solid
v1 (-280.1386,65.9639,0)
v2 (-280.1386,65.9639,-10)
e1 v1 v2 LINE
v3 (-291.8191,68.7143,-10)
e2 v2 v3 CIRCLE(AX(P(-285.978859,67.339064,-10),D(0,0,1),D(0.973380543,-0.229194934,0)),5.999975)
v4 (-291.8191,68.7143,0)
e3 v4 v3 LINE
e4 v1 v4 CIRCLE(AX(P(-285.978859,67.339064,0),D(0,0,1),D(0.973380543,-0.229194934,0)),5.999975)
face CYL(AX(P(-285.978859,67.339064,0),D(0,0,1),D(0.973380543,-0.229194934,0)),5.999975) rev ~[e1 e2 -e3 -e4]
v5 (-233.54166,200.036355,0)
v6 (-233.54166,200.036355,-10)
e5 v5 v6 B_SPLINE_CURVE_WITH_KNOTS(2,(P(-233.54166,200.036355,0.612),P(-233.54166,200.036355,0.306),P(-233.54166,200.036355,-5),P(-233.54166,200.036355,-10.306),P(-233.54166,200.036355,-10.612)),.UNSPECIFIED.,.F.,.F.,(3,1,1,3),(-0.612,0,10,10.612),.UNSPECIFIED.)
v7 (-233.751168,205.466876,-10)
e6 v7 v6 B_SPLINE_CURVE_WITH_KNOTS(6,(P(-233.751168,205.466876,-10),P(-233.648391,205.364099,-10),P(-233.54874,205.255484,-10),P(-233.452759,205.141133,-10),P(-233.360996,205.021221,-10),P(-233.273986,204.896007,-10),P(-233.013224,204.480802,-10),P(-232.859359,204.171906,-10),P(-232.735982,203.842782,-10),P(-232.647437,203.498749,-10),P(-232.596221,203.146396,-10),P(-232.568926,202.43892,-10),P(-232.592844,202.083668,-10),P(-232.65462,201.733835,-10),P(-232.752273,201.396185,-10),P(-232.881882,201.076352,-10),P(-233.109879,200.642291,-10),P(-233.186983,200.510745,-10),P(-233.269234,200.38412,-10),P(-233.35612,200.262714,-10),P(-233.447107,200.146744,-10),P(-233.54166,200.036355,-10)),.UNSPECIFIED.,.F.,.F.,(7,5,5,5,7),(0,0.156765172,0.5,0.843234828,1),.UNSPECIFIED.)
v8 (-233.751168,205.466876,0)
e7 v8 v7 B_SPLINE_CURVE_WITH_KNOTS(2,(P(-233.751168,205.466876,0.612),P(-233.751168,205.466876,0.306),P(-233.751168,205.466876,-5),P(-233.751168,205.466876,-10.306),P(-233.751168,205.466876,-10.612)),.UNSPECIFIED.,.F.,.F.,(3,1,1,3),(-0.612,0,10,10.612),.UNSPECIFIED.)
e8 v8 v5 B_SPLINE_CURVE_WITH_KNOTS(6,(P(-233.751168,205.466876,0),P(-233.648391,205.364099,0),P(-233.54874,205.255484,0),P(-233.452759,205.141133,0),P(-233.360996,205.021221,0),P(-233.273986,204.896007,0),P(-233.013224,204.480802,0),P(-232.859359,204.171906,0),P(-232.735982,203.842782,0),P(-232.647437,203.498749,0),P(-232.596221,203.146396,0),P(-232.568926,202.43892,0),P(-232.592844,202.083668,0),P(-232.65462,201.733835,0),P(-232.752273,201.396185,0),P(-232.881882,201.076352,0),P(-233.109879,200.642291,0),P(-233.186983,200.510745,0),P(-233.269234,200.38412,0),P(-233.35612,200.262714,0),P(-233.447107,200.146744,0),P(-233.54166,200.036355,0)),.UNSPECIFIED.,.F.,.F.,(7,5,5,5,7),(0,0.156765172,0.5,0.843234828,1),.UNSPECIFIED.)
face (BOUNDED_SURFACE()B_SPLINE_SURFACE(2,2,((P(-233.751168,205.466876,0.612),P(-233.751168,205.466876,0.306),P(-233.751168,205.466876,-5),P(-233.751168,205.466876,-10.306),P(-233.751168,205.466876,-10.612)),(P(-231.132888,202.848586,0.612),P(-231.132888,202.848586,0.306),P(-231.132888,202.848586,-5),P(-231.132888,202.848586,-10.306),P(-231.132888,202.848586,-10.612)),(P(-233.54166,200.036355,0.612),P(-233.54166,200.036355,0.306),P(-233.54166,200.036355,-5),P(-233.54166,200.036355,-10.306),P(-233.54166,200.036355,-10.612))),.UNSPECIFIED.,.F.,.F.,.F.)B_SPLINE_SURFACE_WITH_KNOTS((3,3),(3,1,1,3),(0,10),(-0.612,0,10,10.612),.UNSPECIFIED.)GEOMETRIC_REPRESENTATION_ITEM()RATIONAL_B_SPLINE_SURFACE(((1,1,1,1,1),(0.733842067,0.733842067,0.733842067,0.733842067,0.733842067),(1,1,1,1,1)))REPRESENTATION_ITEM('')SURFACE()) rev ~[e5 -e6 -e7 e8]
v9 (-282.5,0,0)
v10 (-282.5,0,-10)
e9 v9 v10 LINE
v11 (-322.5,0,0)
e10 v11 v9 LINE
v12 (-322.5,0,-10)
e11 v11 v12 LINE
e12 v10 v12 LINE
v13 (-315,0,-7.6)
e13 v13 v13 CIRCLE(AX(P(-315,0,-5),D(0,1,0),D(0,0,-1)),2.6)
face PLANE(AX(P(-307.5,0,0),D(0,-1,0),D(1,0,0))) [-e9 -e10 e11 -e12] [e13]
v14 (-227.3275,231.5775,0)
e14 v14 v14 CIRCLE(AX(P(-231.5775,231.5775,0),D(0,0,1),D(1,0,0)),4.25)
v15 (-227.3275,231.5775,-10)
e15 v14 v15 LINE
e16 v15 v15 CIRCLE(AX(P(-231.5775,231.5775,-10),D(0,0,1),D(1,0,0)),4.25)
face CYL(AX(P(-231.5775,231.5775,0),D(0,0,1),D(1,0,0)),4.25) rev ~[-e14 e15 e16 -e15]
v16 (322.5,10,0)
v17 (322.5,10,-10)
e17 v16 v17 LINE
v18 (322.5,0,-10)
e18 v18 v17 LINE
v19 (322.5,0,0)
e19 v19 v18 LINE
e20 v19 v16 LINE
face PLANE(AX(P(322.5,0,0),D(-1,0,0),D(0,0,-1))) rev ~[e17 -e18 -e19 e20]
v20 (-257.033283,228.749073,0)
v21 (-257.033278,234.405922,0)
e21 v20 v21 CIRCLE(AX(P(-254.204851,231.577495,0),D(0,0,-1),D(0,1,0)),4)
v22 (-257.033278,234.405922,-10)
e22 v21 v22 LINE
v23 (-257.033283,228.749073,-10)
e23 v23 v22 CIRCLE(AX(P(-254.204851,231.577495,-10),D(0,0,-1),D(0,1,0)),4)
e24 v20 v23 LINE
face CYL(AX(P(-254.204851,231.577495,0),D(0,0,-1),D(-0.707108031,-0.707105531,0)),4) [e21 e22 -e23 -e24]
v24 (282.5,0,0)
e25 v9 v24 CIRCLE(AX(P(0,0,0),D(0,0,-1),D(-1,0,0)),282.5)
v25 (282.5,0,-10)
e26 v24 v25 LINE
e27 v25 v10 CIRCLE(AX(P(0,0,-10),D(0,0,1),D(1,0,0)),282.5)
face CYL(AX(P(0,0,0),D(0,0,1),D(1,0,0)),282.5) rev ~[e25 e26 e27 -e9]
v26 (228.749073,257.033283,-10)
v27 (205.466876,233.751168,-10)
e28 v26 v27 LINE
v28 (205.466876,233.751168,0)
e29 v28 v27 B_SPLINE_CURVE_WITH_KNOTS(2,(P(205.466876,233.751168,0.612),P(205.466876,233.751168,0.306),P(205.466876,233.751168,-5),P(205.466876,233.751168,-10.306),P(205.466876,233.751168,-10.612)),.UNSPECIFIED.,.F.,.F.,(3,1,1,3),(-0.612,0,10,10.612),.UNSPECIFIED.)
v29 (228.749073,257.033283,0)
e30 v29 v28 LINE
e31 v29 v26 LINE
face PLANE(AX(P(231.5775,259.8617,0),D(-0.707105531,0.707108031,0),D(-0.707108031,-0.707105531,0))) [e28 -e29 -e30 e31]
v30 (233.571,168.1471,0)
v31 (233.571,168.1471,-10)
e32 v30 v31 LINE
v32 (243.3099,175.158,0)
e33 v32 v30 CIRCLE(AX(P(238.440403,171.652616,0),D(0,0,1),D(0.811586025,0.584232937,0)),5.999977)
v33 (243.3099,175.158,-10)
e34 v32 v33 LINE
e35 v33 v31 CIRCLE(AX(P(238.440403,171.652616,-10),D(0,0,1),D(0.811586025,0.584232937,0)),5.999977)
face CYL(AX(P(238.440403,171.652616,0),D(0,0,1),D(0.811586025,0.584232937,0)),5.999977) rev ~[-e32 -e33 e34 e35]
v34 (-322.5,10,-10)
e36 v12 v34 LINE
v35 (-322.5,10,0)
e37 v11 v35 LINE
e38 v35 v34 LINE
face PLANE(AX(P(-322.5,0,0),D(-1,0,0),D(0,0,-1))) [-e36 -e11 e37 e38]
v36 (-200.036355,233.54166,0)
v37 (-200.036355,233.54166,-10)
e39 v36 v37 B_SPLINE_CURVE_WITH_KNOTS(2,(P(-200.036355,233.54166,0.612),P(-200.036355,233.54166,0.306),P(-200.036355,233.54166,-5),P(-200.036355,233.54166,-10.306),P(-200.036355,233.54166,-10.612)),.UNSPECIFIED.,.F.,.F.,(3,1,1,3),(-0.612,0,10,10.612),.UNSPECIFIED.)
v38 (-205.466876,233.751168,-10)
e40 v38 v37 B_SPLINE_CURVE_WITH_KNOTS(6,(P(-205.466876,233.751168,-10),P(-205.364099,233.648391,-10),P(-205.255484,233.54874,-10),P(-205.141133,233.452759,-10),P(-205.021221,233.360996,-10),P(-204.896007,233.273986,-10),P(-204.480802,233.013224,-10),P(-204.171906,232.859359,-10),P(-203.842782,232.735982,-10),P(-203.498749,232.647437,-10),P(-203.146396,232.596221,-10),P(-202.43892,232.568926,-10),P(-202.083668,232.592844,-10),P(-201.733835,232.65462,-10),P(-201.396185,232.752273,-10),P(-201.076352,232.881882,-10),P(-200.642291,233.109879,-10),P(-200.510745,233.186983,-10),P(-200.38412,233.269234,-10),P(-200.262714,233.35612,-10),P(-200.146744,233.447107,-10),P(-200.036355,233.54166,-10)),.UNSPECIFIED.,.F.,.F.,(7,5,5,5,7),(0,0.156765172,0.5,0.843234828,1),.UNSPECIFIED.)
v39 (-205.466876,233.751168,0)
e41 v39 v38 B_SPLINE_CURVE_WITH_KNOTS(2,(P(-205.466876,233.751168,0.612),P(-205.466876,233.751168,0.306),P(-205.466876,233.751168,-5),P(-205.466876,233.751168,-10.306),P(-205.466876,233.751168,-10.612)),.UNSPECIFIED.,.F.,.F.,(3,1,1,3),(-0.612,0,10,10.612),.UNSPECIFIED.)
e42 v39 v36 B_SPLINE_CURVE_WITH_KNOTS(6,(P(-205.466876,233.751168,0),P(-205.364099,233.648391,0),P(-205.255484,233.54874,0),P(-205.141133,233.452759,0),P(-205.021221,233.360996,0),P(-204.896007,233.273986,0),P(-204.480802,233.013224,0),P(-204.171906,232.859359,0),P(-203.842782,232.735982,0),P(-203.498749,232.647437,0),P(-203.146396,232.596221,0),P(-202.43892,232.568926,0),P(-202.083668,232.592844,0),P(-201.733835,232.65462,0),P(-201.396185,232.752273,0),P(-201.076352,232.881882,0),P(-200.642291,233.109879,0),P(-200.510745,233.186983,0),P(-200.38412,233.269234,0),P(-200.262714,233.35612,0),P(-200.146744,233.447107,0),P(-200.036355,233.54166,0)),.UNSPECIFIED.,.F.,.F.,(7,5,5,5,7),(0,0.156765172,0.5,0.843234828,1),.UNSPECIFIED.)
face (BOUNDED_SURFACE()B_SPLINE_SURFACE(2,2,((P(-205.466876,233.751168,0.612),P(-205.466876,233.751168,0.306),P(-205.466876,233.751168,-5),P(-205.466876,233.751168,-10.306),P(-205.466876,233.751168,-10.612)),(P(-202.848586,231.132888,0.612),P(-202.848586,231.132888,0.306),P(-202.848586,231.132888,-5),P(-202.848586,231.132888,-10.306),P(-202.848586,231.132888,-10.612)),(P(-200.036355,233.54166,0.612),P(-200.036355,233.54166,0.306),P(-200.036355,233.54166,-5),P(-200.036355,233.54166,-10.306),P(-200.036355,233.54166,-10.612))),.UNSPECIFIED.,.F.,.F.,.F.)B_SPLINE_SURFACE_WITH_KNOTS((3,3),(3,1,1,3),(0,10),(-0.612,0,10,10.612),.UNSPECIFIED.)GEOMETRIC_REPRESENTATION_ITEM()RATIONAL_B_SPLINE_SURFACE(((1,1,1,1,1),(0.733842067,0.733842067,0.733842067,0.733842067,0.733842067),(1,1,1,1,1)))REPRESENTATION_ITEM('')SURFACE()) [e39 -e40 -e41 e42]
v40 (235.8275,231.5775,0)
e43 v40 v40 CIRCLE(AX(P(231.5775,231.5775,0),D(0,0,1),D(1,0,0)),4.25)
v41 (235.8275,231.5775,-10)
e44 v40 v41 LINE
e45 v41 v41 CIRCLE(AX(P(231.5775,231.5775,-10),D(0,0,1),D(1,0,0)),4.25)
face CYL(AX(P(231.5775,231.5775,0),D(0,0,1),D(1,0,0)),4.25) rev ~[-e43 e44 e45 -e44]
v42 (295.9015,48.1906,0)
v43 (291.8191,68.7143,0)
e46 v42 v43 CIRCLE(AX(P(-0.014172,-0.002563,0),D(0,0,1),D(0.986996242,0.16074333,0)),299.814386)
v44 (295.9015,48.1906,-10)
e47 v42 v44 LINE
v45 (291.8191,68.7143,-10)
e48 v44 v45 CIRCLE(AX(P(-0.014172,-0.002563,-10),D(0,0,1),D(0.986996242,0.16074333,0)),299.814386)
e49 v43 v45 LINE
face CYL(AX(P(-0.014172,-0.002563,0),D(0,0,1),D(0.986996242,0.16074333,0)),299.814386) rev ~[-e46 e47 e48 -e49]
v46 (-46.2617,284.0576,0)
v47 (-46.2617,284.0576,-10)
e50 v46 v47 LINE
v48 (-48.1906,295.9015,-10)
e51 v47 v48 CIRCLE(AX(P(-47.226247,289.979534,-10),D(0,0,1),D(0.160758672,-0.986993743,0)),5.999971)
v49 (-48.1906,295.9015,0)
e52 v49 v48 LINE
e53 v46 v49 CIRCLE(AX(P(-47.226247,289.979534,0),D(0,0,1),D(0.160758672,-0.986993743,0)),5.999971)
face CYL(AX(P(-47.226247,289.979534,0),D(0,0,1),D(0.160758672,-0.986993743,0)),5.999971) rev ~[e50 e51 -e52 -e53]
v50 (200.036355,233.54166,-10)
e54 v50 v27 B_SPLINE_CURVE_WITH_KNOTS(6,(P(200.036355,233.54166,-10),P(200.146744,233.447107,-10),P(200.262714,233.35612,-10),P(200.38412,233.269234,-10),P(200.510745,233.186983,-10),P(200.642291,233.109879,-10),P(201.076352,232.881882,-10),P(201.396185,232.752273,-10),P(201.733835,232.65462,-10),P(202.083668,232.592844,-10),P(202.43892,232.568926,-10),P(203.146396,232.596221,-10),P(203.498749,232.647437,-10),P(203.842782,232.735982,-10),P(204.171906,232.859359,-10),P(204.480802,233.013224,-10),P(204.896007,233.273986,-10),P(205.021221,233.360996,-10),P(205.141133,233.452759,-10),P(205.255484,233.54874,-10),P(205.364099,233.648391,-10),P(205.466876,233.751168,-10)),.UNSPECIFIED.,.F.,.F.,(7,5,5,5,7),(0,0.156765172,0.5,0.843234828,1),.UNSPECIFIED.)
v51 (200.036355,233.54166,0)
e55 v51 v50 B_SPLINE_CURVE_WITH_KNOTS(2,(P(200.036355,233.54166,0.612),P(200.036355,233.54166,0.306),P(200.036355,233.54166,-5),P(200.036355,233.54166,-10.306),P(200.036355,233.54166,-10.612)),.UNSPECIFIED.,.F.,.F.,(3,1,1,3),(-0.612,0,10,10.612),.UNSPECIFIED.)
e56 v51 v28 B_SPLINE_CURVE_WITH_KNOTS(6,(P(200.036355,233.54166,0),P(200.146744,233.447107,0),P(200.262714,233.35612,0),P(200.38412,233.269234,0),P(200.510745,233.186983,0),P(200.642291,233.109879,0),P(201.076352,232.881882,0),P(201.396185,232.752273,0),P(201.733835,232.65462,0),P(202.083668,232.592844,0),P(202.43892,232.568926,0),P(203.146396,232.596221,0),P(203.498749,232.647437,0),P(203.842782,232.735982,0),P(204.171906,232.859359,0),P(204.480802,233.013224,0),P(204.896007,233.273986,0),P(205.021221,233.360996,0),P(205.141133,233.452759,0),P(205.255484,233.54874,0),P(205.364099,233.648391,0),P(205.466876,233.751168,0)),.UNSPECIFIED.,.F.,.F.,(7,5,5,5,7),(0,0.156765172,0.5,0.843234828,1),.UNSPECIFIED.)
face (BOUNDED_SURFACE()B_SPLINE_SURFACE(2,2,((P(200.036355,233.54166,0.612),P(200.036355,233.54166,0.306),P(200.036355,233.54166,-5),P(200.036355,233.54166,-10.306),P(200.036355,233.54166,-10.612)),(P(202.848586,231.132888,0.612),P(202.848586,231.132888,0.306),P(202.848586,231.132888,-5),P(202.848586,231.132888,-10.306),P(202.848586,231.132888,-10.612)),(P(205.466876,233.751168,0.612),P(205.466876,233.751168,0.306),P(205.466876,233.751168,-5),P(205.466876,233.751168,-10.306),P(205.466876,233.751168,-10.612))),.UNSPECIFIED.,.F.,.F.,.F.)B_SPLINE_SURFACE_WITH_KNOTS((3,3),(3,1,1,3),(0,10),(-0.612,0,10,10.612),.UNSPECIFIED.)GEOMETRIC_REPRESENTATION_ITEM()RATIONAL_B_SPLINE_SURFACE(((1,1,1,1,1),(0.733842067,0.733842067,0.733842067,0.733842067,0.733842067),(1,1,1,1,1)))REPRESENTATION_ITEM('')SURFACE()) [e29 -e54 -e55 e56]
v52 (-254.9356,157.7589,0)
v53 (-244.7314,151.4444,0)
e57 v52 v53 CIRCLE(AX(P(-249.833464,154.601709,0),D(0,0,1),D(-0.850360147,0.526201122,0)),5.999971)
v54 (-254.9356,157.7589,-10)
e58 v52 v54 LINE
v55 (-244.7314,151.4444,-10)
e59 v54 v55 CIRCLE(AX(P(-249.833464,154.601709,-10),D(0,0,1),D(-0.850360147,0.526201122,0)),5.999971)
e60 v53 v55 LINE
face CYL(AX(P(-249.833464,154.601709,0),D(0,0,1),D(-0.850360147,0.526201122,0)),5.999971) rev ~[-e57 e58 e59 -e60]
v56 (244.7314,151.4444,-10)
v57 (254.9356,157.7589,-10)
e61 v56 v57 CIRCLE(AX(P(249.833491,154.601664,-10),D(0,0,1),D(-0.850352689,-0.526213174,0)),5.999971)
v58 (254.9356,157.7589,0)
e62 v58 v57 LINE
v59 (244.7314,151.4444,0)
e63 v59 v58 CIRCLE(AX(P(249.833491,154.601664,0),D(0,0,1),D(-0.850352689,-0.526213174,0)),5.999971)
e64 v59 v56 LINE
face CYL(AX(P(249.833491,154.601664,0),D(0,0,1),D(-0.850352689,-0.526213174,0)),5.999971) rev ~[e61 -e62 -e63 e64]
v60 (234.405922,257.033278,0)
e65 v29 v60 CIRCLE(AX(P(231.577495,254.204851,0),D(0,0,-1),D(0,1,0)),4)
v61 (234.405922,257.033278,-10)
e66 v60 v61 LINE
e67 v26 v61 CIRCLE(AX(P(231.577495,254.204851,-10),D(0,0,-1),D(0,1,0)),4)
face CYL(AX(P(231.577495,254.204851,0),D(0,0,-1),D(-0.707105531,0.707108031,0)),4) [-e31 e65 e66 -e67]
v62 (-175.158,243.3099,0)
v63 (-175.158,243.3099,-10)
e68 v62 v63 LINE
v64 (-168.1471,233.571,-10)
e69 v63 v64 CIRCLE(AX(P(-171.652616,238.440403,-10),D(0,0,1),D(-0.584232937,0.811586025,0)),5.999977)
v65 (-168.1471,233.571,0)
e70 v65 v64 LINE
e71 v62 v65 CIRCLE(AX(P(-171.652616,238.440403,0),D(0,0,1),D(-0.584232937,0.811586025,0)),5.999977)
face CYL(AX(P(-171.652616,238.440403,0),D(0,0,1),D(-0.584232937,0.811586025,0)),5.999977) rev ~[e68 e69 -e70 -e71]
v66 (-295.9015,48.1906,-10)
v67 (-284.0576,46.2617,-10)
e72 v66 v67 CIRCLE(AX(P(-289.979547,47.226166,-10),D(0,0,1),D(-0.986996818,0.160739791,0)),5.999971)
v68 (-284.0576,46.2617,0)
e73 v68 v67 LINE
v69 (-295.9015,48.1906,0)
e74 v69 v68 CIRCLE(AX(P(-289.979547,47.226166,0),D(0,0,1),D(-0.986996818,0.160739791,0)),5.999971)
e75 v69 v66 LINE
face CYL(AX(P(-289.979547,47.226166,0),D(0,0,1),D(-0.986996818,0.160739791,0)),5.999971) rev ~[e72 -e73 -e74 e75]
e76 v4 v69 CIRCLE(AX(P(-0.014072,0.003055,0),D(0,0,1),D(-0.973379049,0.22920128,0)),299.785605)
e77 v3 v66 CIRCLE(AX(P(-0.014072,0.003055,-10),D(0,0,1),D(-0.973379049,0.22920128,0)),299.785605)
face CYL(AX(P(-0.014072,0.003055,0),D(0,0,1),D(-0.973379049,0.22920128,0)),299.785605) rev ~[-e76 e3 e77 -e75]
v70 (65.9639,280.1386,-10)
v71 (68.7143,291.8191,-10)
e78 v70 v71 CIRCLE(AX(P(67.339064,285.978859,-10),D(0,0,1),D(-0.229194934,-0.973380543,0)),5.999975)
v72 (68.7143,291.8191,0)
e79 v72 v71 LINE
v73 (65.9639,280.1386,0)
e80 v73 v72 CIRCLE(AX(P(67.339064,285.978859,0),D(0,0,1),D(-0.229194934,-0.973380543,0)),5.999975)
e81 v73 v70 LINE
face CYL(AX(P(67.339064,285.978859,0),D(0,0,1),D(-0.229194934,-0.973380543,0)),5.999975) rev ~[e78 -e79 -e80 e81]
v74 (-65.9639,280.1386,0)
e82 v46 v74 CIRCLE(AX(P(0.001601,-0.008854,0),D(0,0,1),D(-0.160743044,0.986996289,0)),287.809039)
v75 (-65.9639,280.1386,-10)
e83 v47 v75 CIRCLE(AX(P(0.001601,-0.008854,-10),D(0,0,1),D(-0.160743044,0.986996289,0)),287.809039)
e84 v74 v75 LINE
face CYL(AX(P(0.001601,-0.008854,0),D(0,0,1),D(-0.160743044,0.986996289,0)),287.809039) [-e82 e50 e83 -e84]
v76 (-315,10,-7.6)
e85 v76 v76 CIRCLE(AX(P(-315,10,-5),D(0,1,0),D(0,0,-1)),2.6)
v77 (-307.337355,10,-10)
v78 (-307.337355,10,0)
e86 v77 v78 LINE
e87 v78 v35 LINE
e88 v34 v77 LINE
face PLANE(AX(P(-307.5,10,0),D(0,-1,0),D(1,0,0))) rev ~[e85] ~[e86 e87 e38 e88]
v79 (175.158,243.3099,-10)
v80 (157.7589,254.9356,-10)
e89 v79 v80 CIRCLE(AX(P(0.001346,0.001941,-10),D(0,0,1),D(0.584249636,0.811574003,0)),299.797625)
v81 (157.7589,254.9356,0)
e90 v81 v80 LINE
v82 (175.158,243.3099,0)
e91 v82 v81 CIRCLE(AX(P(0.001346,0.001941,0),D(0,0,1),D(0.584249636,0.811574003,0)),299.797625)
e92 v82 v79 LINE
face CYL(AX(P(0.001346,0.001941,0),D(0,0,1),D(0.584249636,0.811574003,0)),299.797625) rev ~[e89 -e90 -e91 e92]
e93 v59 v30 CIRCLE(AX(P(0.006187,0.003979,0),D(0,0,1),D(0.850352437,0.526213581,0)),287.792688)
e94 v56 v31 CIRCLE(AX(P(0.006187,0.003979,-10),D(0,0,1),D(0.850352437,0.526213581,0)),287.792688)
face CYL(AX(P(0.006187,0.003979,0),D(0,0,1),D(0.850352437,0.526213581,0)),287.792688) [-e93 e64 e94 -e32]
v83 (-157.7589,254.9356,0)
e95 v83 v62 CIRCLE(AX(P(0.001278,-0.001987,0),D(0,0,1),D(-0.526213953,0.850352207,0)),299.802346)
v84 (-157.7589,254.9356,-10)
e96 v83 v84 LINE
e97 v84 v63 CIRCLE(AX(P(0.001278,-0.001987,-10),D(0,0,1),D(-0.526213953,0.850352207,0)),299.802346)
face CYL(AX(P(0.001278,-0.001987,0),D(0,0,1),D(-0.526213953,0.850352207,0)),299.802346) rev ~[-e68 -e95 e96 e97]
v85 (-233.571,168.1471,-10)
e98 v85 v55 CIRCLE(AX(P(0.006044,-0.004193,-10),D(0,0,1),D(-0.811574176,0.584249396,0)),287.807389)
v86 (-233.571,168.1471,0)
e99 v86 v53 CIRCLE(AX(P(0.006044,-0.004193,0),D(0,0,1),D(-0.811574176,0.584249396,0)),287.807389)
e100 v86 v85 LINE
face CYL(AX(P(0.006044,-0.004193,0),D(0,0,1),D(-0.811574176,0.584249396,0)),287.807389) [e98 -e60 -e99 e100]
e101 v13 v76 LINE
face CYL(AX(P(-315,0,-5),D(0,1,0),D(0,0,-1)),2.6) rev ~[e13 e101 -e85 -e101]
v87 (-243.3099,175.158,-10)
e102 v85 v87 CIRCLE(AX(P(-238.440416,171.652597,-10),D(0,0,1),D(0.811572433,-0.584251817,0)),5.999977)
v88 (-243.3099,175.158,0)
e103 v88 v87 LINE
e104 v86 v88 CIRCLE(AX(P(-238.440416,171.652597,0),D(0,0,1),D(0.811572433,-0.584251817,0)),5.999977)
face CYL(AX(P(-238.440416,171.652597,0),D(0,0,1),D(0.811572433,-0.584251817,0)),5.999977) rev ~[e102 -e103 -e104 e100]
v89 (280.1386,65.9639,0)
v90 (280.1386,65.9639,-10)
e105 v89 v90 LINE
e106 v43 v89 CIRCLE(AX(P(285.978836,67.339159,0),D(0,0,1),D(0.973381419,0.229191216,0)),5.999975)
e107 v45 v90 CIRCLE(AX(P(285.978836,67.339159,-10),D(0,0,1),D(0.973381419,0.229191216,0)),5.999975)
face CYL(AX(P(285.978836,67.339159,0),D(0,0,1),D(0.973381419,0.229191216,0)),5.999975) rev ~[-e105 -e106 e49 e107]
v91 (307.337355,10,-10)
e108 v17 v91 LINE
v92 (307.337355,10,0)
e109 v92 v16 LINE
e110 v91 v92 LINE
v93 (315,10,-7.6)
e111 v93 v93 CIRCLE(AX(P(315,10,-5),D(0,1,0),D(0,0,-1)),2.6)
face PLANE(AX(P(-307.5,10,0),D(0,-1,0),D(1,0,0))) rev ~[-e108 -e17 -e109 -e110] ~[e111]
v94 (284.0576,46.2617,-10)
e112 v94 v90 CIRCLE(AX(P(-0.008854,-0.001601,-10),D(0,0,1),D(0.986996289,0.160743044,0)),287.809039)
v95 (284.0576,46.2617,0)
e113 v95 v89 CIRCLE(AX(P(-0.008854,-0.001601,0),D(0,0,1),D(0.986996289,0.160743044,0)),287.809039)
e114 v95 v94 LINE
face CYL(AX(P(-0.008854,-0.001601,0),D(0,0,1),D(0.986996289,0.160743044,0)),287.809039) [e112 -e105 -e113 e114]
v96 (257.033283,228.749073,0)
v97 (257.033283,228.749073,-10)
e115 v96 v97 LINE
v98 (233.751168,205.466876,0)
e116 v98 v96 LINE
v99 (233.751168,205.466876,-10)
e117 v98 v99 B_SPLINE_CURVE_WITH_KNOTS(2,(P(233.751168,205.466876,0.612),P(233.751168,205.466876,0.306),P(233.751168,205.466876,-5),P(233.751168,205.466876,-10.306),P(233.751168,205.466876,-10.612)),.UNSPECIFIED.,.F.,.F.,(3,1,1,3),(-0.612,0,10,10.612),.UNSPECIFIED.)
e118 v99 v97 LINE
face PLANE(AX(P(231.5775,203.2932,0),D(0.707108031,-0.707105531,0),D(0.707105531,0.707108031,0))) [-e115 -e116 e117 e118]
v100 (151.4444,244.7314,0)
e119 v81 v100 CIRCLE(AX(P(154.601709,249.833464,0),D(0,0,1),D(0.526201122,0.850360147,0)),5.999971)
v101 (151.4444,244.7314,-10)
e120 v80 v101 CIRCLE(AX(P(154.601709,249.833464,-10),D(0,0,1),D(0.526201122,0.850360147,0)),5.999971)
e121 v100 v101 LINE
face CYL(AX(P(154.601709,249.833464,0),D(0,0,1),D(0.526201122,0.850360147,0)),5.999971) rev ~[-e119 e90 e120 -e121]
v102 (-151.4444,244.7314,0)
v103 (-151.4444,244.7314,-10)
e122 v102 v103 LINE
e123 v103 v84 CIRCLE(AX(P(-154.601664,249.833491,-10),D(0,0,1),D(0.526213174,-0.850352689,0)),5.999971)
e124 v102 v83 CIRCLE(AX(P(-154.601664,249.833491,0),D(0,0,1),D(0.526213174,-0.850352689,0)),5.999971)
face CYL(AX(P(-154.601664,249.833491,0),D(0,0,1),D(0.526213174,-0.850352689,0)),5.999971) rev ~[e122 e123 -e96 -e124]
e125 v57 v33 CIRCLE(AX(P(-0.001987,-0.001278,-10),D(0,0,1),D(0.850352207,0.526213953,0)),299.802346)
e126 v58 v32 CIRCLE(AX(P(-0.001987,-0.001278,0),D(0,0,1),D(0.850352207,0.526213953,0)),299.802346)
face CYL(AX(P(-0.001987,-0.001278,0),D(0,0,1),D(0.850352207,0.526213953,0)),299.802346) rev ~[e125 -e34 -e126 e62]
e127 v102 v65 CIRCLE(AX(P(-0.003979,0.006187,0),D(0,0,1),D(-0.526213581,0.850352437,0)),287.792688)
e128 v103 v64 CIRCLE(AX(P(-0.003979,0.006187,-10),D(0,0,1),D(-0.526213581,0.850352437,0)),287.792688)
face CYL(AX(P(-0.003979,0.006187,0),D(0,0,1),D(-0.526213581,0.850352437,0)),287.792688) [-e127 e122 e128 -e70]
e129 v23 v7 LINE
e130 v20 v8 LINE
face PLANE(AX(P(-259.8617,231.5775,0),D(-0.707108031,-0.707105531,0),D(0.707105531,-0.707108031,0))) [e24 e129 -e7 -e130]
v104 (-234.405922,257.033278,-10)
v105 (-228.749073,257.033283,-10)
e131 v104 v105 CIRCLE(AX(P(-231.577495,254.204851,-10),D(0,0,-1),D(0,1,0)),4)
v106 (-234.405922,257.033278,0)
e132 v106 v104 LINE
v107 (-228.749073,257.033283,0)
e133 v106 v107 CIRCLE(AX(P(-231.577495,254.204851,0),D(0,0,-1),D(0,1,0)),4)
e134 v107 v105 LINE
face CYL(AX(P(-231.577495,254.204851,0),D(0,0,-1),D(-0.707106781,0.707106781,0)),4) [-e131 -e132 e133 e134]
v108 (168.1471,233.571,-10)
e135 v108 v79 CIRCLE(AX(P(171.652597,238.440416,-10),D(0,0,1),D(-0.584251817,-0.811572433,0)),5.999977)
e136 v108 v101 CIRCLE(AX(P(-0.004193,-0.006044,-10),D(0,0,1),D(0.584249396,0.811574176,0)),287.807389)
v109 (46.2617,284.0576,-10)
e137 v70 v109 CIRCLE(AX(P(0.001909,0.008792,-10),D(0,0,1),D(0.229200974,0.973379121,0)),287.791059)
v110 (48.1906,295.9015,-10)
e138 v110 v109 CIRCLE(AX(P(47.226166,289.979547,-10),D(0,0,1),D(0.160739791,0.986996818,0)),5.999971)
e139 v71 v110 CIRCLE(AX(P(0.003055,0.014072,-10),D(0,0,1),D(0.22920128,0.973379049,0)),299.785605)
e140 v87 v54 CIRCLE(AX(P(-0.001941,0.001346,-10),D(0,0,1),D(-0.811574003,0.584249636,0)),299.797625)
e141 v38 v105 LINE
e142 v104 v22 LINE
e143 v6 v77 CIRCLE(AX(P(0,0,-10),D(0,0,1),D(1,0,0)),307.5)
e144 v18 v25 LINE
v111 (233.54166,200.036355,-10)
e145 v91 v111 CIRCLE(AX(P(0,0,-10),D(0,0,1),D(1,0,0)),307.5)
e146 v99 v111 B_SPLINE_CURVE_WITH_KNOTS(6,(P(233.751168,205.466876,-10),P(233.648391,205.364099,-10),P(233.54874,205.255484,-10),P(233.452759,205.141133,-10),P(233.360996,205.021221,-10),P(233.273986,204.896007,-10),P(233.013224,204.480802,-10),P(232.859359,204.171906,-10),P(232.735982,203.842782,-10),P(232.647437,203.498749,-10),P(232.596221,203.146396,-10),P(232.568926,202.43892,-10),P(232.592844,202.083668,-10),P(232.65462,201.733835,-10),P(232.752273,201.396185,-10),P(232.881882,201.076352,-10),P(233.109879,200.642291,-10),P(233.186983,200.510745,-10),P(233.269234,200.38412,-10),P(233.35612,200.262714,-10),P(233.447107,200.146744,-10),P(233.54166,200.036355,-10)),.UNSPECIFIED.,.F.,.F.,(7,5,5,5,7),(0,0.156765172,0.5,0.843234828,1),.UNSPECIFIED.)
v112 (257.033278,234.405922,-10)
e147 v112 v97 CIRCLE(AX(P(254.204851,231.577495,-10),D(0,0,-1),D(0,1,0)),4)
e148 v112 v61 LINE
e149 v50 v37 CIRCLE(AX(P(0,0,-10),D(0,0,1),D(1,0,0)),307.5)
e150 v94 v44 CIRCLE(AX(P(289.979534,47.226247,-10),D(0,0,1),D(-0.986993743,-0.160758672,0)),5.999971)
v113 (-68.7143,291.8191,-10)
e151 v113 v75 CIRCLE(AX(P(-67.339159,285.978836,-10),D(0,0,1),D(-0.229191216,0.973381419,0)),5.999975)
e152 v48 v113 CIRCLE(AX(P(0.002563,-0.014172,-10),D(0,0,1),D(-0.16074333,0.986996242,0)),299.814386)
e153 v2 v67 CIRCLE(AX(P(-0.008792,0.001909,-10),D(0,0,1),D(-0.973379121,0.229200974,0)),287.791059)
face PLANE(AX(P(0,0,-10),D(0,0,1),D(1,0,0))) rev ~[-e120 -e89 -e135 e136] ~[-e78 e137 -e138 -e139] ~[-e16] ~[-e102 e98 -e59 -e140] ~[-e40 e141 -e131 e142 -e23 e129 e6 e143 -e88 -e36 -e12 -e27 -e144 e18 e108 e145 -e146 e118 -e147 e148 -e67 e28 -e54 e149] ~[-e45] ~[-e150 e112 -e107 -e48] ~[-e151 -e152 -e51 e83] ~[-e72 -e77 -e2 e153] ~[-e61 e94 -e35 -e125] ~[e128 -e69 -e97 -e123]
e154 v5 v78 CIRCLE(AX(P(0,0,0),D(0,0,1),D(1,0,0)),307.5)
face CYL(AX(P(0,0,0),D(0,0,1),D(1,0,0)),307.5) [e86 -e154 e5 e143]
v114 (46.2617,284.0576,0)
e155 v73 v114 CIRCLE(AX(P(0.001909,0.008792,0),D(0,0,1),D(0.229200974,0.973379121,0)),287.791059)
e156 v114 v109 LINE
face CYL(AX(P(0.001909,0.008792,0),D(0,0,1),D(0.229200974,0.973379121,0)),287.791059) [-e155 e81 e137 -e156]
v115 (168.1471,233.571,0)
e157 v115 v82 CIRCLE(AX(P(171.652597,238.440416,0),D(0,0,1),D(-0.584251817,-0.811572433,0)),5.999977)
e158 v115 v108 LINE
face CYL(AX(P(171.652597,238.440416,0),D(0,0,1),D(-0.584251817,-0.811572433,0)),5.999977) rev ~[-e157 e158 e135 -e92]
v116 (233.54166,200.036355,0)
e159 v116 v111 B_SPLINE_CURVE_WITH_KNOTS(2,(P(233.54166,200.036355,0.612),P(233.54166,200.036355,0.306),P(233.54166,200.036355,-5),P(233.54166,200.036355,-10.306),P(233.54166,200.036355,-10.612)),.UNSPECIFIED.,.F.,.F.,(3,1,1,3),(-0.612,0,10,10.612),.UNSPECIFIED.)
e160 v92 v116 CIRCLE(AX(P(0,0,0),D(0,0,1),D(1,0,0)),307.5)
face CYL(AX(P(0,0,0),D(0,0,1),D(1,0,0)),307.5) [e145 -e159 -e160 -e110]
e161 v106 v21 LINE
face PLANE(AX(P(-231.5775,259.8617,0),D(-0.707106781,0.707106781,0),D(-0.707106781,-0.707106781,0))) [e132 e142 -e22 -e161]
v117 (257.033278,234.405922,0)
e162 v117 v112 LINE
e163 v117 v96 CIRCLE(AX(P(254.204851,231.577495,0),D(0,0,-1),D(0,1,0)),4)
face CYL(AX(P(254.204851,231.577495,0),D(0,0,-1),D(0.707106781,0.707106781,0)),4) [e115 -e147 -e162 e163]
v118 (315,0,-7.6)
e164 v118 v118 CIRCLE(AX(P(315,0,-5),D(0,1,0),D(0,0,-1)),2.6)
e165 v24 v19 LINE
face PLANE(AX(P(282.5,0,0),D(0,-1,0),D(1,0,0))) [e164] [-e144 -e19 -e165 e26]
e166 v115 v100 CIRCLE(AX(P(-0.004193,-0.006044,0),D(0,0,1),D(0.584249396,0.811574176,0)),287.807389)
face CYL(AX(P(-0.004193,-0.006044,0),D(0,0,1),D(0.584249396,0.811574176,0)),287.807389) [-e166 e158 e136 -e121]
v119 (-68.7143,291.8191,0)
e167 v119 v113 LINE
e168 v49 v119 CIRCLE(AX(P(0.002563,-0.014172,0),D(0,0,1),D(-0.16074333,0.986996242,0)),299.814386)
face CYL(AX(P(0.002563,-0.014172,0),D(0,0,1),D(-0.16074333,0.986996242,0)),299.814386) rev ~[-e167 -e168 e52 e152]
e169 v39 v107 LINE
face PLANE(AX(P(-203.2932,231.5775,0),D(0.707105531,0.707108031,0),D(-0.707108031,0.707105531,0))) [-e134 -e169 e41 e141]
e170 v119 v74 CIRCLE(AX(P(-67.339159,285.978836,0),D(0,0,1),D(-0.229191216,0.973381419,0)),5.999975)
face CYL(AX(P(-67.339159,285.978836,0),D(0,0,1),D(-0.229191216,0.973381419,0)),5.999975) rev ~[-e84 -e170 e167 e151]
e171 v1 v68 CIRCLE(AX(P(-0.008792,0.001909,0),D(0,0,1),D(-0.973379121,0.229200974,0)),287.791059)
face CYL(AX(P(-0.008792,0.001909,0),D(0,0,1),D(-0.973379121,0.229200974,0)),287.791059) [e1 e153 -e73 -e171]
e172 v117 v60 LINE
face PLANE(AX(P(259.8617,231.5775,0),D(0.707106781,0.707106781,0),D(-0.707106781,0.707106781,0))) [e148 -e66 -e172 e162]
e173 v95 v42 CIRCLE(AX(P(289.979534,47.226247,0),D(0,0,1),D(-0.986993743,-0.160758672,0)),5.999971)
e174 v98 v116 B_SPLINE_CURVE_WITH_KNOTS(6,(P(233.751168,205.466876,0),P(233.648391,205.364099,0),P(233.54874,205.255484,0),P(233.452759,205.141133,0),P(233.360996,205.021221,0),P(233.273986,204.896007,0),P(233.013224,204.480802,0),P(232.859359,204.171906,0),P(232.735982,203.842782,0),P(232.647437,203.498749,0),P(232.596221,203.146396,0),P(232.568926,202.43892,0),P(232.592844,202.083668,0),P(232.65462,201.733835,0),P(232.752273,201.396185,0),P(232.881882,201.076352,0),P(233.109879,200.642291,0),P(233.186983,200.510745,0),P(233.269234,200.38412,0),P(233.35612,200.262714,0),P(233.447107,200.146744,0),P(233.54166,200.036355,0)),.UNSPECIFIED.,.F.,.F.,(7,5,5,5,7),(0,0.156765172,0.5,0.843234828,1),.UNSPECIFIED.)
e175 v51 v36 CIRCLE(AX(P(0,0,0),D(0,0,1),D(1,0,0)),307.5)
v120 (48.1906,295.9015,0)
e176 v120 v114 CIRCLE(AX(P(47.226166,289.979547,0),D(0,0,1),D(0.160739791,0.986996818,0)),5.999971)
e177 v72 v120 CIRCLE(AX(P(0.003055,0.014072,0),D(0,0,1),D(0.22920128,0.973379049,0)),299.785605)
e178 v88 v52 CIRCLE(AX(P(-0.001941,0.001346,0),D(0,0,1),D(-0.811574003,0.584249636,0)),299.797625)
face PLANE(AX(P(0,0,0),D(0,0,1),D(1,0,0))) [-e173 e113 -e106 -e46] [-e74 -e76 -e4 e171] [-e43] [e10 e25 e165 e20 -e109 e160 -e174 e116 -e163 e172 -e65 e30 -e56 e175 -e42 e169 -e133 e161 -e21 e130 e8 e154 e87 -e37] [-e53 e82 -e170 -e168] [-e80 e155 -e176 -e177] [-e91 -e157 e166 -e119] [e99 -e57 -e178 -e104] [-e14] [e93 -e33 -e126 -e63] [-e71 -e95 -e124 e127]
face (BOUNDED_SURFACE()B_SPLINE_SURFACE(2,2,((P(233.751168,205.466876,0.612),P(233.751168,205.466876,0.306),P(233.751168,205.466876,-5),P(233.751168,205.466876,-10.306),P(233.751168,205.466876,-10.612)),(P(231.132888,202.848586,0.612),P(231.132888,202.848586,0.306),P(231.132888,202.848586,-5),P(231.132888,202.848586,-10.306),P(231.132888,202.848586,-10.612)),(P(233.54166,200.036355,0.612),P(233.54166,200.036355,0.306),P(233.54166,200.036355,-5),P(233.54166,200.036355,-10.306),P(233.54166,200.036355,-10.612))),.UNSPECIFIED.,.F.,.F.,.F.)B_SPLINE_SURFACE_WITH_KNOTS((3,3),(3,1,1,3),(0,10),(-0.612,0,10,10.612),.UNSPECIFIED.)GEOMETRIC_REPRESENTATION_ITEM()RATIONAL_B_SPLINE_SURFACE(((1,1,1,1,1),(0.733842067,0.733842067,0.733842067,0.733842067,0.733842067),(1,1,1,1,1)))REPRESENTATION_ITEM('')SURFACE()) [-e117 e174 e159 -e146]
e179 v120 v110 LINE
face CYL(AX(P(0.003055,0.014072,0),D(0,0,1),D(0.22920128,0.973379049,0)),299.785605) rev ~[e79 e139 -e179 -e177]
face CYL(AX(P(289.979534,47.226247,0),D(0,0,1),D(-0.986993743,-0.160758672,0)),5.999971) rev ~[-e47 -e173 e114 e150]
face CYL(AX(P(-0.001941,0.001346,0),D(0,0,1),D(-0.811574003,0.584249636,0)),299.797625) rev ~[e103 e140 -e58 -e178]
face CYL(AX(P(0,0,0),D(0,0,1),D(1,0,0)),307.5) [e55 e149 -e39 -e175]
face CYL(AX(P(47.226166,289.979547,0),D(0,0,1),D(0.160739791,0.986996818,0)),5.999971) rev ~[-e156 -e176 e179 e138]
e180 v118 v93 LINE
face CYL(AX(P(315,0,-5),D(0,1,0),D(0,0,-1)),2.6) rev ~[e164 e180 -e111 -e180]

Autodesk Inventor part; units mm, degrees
ref_plane "YZ Plane" through (0, 0, 0) normal (1, 0, 0) x (0, 1, 0)
ref_plane "XZ Plane" through (0, 0, 0) normal (0, 1, 0) x (-1, 0, 0)
ref_plane "XY Plane" through (0, 0, 0) normal (0, 0, 1) x (1, 0, 0)
sketch "Sketch7" plane through (0, 0, 0) normal (0, 0, 1) x (1, 0, 0)
  circle A0 centre (-231.5775, 231.5775) radius 4.25
  line L0 (-231.5775, 203.2932) -> (-203.2932, 231.5775)
  line L1 (-203.2932, 231.5775) -> (-231.5775, 259.8617)
  line L2 (-231.5775, 259.8617) -> (-259.8617, 231.5775)
  line L3 (-259.8617, 231.5775) -> (-231.5775, 203.2932)
  line L4 (-231.5775, 203.2932) -> (-231.5775, 259.8617) construction
  line L5 (-203.2932, 231.5775) -> (-259.8617, 231.5775) construction
  line L6 (-231.5775, 203.2932) -> (-191.5775, 203.2932) construction
  arc A1 (289.9795, 47.2262) -> (285.9788, 67.3391) centre (0, 0) ccw construction
  arc A2 (295.9015, 48.1906) -> (291.8191, 68.7143) centre (0, 0) ccw
  arc A3 (284.0576, 46.2617) -> (280.1386, 65.9639) centre (0, 0) ccw
  arc A4 (284.0576, 46.2617) -> (295.9015, 48.1906) centre (289.9795, 47.2262) ccw
  arc A5 (291.8191, 68.7143) -> (280.1386, 65.9639) centre (285.9788, 67.3391) ccw
  line L7 (0, 0) -> (289.9795, 47.2262) construction
  line L8 (0, 0) -> (293.8, 0) construction
  line L9 (0, 0) -> (285.9788, 67.3391) construction
  circle A6 centre (0, 0) radius 307.5
  circle A7 centre (0, 0) radius 282.5
  line L10 (-203.2932, 231.5775) -> (-185.1143, 213.3986)
  line L11 (-231.5775, 203.2932) -> (-213.3986, 185.1143)
  line L12 (-307.5, 0) -> (0, 0)
  line L13 (0, 0) -> (307.5, 0)
  line L14 (-231.5775, -203.2932) -> (-259.8617, -231.5775)
  line L15 (-259.8617, -231.5775) -> (-231.5775, -259.8617)
  circle A8 centre (-231.5775, -231.5775) radius 4.25
  line L16 (-231.5775, -259.8617) -> (-203.2932, -231.5775)
  line L17 (-203.2932, -231.5775) -> (-231.5775, -203.2932)
  line L18 (-203.2932, -231.5775) -> (-185.1143, -213.3986)
  line L19 (-231.5775, -203.2932) -> (-213.3986, -185.1143)
  line L20 (203.2932, -231.5775) -> (231.5775, -259.8617)
  line L21 (231.5775, -259.8617) -> (259.8617, -231.5775)
  circle A9 centre (231.5775, -231.5775) radius 4.25
  line L22 (259.8617, -231.5775) -> (231.5775, -203.2932)
  line L23 (231.5775, -203.2932) -> (203.2932, -231.5775)
  line L24 (231.5775, -203.2932) -> (213.3986, -185.1143)
  line L25 (203.2932, -231.5775) -> (185.1143, -213.3986)
  line L26 (231.5775, 203.2932) -> (259.8617, 231.5775)
  line L27 (259.8617, 231.5775) -> (231.5775, 259.8617)
  circle A10 centre (231.5775, 231.5775) radius 4.25
  line L28 (231.5775, 259.8617) -> (203.2932, 231.5775)
  line L29 (203.2932, 231.5775) -> (231.5775, 203.2932)
  line L30 (203.2932, 231.5775) -> (185.1143, 213.3986)
  line L31 (231.5775, 203.2932) -> (213.3986, 185.1143)
  arc A11 (254.9356, 157.7589) -> (243.3099, 175.158) centre (0, 0) ccw
  arc A12 (243.3099, 175.158) -> (233.571, 168.1471) centre (238.4404, 171.6526) ccw
  arc A13 (244.7314, 151.4444) -> (233.571, 168.1471) centre (0, 0) ccw
  arc A14 (244.7314, 151.4444) -> (254.9356, 157.7589) centre (249.8335, 154.6017) ccw
  arc A15 (175.158, 243.3099) -> (157.7589, 254.9356) centre (0, 0) ccw
  arc A16 (157.7589, 254.9356) -> (151.4444, 244.7314) centre (154.6017, 249.8335) ccw
  arc A17 (168.1471, 233.571) -> (151.4444, 244.7314) centre (0, 0) ccw
  arc A18 (168.1471, 233.571) -> (175.158, 243.3099) centre (171.6526, 238.4404) ccw
  arc A19 (68.7143, 291.8191) -> (48.1906, 295.9015) centre (0, 0) ccw
  arc A20 (48.1906, 295.9015) -> (46.2617, 284.0576) centre (47.2262, 289.9795) ccw
  arc A21 (65.9639, 280.1386) -> (46.2617, 284.0576) centre (0, 0) ccw
  arc A22 (65.9639, 280.1386) -> (68.7143, 291.8191) centre (67.3391, 285.9788) ccw
  arc A23 (-48.1906, 295.9015) -> (-68.7143, 291.8191) centre (0, 0) ccw
  arc A24 (-68.7143, 291.8191) -> (-65.9639, 280.1386) centre (-67.3391, 285.9788) ccw
  arc A25 (-46.2617, 284.0576) -> (-65.9639, 280.1386) centre (0, 0) ccw
  arc A26 (-46.2617, 284.0576) -> (-48.1906, 295.9015) centre (-47.2262, 289.9795) ccw
  arc A27 (-157.7589, 254.9356) -> (-175.158, 243.3099) centre (0, 0) ccw
  arc A28 (-175.158, 243.3099) -> (-168.1471, 233.571) centre (-171.6526, 238.4404) ccw
  arc A29 (-151.4444, 244.7314) -> (-168.1471, 233.571) centre (0, 0) ccw
  arc A30 (-151.4444, 244.7314) -> (-157.7589, 254.9356) centre (-154.6017, 249.8335) ccw
  arc A31 (-243.3099, 175.158) -> (-254.9356, 157.7589) centre (0, 0) ccw
  arc A32 (-254.9356, 157.7589) -> (-244.7314, 151.4444) centre (-249.8335, 154.6017) ccw
  arc A33 (-233.571, 168.1471) -> (-244.7314, 151.4444) centre (0, 0) ccw
  arc A34 (-233.571, 168.1471) -> (-243.3099, 175.158) centre (-238.4404, 171.6526) ccw
  arc A35 (-291.8191, 68.7143) -> (-295.9015, 48.1906) centre (0, 0) ccw
  arc A36 (-295.9015, 48.1906) -> (-284.0576, 46.2617) centre (-289.9795, 47.2262) ccw
  arc A37 (-280.1386, 65.9639) -> (-284.0576, 46.2617) centre (0, 0) ccw
  arc A38 (-280.1386, 65.9639) -> (-291.8191, 68.7143) centre (-285.9788, 67.3391) ccw
  arc A39 (-295.9015, -48.1906) -> (-291.8191, -68.7143) centre (0, 0) ccw
  arc A40 (-291.8191, -68.7143) -> (-280.1386, -65.9639) centre (-285.9788, -67.3391) ccw
  arc A41 (-284.0576, -46.2617) -> (-280.1386, -65.9639) centre (0, 0) ccw
  arc A42 (-284.0576, -46.2617) -> (-295.9015, -48.1906) centre (-289.9795, -47.2262) ccw
  arc A43 (-254.9356, -157.7589) -> (-243.3099, -175.158) centre (0, 0) ccw
  arc A44 (-243.3099, -175.158) -> (-233.571, -168.1471) centre (-238.4404, -171.6526) ccw
  arc A45 (-244.7314, -151.4444) -> (-233.571, -168.1471) centre (0, 0) ccw
  arc A46 (-244.7314, -151.4444) -> (-254.9356, -157.7589) centre (-249.8335, -154.6017) ccw
  arc A47 (-175.158, -243.3099) -> (-157.7589, -254.9356) centre (0, 0) ccw
  arc A48 (-157.7589, -254.9356) -> (-151.4444, -244.7314) centre (-154.6017, -249.8335) ccw
  arc A49 (-168.1471, -233.571) -> (-151.4444, -244.7314) centre (0, 0) ccw
  arc A50 (-168.1471, -233.571) -> (-175.158, -243.3099) centre (-171.6526, -238.4404) ccw
  arc A51 (-68.7143, -291.8191) -> (-48.1906, -295.9015) centre (0, 0) ccw
  arc A52 (-48.1906, -295.9015) -> (-46.2617, -284.0576) centre (-47.2262, -289.9795) ccw
  arc A53 (-65.9639, -280.1386) -> (-46.2617, -284.0576) centre (0, 0) ccw
  arc A54 (-65.9639, -280.1386) -> (-68.7143, -291.8191) centre (-67.3391, -285.9788) ccw
  arc A55 (48.1906, -295.9015) -> (68.7143, -291.8191) centre (0, 0) ccw
  arc A56 (68.7143, -291.8191) -> (65.9639, -280.1386) centre (67.3391, -285.9788) ccw
  arc A57 (46.2617, -284.0576) -> (65.9639, -280.1386) centre (0, 0) ccw
  arc A58 (46.2617, -284.0576) -> (48.1906, -295.9015) centre (47.2262, -289.9795) ccw
  arc A59 (157.7589, -254.9356) -> (175.158, -243.3099) centre (0, 0) ccw
  arc A60 (175.158, -243.3099) -> (168.1471, -233.571) centre (171.6526, -238.4404) ccw
  arc A61 (151.4444, -244.7314) -> (168.1471, -233.571) centre (0, 0) ccw
  arc A62 (151.4444, -244.7314) -> (157.7589, -254.9356) centre (154.6017, -249.8335) ccw
  arc A63 (243.3099, -175.158) -> (254.9356, -157.7589) centre (0, 0) ccw
  arc A64 (254.9356, -157.7589) -> (244.7314, -151.4444) centre (249.8335, -154.6017) ccw
  arc A65 (233.571, -168.1471) -> (244.7314, -151.4444) centre (0, 0) ccw
  arc A66 (233.571, -168.1471) -> (243.3099, -175.158) centre (238.4404, -171.6526) ccw
  arc A67 (291.8191, -68.7143) -> (295.9015, -48.1906) centre (0, 0) ccw
  arc A68 (295.9015, -48.1906) -> (284.0576, -46.2617) centre (289.9795, -47.2262) ccw
  arc A69 (280.1386, -65.9639) -> (284.0576, -46.2617) centre (0, 0) ccw
  arc A70 (280.1386, -65.9639) -> (291.8191, -68.7143) centre (285.9788, -67.3391) ccw
  point P0 (-202.8328, 231.1171)
  point P1 (-231.1171, 202.8328)
  point P2 (-282.5, 0)
  point P3 (282.5, 0)
  point P4 (231.1171, 202.8328)
  point P5 (202.8328, 231.1171)
  dimension "d131" = 8.5
  dimension "d132" = 231.5775
  dimension "d133" = 231.5775
  dimension "d135" = 45
  dimension "d137" = 40
  dimension "d138" = 40
  dimension "d144" = 293.8
  dimension "d145" = 9.25
  dimension "d146" = 4
  dimension "d147" = 12
  dimension "d148" = 615
  dimension "d149" = 565
  dimension "d152" = 360
  dimension "d156" = 360
extrude "Extrusion11" add sketch "Sketch7" against normal blind 10 contours L3 L2 L1 L0 | L0 A6 L11 | L0 L10 A6 | A6 L10 A7 L11 | L11 A7 L12 A6 | A6 L30 A7 L10 | L30 L29 A6 | A6 L31 A7 L30 | L29 L31 A6 | L29 L28 L27 L26 | A6 L13 A7 L31
sketch "Sketch8" plane through (-307.5, 0, 0) normal (0, -1, 0) x (1, 0, 0)
  line L0 (25, 0) -> (590, 0) projected
  line L1 (25, 0) -> (-15, 0)
  line L2 (-15, 0) -> (-15, -10)
  line L3 (-15, -10) -> (25, -10)
  line L4 (25, -10) -> (25, 0)
  circle A0 centre (-7.5, -5) radius 2.6
  line L5 (590, 0) -> (630, 0)
  line L6 (630, 0) -> (630, -10)
  line L7 (630, -10) -> (590, -10)
  line L8 (590, -10) -> (590, 0)
  circle A1 centre (622.5, -5) radius 2.6
  dimension "d160" = 40
  dimension "d161" = 10
  dimension "d162" = 5.2
  dimension "d163" = 5
  dimension "d164" = 7.5
  dimension "d165" = 40
  dimension "d166" = 10
  dimension "d167" = 5.2
  dimension "d168" = 7.5
  dimension "d169" = 5
extrude "Extrusion12" add sketch "Sketch8" against normal blind 10 contours L5 L6 L7 L8 | L4 L3 L2 L1 | A0 | A1
fillet "Fillet4" radius 4 8 edges at (-231.1171, 202.8328, -5) (-259.8617, 231.5775, -5) (-202.8328, 231.1171, -5) (-231.5775, 259.8617, -5) (231.5775, 259.8617, -5) (259.8617, 231.5775, -5) (202.8328, 231.1171, -5) (231.1171, 202.8328, -5)
hole "Hole6" at (-315, 0, -5) at (315, 0, -5) direction (0, 1, 0) diameter 5.2 end through all
equation "\"bar_screw_hole_diam\" = 8.5"
equation "\"foot_length\" = 15"
equation "\"tube_rim_diam\" = 605"
equation "\"tube_inner_diam\" = 541"
equation "\"tube_outer_diam\" = 561"
equation "\"ring_delta\" = 2"
equation "\"bar_delta\" = 5"
equation "\"bar_circle_diam\" = 655"
equation "\"ring_inner_diam\" = 565"
equation "\"ring_outer_diam\" = 615"
equation "\"slot_angle\" = 9.25deg"
equation "\"slot_diam\" = 12"
equation "\"slots_circle_diam\" = 587.6"
equation "\"foot_screw_diam\" = 5.2"
equation "\"bar_fillet\" = 4"
properties part number "half_ring_1" material "Aluminum 6061"
